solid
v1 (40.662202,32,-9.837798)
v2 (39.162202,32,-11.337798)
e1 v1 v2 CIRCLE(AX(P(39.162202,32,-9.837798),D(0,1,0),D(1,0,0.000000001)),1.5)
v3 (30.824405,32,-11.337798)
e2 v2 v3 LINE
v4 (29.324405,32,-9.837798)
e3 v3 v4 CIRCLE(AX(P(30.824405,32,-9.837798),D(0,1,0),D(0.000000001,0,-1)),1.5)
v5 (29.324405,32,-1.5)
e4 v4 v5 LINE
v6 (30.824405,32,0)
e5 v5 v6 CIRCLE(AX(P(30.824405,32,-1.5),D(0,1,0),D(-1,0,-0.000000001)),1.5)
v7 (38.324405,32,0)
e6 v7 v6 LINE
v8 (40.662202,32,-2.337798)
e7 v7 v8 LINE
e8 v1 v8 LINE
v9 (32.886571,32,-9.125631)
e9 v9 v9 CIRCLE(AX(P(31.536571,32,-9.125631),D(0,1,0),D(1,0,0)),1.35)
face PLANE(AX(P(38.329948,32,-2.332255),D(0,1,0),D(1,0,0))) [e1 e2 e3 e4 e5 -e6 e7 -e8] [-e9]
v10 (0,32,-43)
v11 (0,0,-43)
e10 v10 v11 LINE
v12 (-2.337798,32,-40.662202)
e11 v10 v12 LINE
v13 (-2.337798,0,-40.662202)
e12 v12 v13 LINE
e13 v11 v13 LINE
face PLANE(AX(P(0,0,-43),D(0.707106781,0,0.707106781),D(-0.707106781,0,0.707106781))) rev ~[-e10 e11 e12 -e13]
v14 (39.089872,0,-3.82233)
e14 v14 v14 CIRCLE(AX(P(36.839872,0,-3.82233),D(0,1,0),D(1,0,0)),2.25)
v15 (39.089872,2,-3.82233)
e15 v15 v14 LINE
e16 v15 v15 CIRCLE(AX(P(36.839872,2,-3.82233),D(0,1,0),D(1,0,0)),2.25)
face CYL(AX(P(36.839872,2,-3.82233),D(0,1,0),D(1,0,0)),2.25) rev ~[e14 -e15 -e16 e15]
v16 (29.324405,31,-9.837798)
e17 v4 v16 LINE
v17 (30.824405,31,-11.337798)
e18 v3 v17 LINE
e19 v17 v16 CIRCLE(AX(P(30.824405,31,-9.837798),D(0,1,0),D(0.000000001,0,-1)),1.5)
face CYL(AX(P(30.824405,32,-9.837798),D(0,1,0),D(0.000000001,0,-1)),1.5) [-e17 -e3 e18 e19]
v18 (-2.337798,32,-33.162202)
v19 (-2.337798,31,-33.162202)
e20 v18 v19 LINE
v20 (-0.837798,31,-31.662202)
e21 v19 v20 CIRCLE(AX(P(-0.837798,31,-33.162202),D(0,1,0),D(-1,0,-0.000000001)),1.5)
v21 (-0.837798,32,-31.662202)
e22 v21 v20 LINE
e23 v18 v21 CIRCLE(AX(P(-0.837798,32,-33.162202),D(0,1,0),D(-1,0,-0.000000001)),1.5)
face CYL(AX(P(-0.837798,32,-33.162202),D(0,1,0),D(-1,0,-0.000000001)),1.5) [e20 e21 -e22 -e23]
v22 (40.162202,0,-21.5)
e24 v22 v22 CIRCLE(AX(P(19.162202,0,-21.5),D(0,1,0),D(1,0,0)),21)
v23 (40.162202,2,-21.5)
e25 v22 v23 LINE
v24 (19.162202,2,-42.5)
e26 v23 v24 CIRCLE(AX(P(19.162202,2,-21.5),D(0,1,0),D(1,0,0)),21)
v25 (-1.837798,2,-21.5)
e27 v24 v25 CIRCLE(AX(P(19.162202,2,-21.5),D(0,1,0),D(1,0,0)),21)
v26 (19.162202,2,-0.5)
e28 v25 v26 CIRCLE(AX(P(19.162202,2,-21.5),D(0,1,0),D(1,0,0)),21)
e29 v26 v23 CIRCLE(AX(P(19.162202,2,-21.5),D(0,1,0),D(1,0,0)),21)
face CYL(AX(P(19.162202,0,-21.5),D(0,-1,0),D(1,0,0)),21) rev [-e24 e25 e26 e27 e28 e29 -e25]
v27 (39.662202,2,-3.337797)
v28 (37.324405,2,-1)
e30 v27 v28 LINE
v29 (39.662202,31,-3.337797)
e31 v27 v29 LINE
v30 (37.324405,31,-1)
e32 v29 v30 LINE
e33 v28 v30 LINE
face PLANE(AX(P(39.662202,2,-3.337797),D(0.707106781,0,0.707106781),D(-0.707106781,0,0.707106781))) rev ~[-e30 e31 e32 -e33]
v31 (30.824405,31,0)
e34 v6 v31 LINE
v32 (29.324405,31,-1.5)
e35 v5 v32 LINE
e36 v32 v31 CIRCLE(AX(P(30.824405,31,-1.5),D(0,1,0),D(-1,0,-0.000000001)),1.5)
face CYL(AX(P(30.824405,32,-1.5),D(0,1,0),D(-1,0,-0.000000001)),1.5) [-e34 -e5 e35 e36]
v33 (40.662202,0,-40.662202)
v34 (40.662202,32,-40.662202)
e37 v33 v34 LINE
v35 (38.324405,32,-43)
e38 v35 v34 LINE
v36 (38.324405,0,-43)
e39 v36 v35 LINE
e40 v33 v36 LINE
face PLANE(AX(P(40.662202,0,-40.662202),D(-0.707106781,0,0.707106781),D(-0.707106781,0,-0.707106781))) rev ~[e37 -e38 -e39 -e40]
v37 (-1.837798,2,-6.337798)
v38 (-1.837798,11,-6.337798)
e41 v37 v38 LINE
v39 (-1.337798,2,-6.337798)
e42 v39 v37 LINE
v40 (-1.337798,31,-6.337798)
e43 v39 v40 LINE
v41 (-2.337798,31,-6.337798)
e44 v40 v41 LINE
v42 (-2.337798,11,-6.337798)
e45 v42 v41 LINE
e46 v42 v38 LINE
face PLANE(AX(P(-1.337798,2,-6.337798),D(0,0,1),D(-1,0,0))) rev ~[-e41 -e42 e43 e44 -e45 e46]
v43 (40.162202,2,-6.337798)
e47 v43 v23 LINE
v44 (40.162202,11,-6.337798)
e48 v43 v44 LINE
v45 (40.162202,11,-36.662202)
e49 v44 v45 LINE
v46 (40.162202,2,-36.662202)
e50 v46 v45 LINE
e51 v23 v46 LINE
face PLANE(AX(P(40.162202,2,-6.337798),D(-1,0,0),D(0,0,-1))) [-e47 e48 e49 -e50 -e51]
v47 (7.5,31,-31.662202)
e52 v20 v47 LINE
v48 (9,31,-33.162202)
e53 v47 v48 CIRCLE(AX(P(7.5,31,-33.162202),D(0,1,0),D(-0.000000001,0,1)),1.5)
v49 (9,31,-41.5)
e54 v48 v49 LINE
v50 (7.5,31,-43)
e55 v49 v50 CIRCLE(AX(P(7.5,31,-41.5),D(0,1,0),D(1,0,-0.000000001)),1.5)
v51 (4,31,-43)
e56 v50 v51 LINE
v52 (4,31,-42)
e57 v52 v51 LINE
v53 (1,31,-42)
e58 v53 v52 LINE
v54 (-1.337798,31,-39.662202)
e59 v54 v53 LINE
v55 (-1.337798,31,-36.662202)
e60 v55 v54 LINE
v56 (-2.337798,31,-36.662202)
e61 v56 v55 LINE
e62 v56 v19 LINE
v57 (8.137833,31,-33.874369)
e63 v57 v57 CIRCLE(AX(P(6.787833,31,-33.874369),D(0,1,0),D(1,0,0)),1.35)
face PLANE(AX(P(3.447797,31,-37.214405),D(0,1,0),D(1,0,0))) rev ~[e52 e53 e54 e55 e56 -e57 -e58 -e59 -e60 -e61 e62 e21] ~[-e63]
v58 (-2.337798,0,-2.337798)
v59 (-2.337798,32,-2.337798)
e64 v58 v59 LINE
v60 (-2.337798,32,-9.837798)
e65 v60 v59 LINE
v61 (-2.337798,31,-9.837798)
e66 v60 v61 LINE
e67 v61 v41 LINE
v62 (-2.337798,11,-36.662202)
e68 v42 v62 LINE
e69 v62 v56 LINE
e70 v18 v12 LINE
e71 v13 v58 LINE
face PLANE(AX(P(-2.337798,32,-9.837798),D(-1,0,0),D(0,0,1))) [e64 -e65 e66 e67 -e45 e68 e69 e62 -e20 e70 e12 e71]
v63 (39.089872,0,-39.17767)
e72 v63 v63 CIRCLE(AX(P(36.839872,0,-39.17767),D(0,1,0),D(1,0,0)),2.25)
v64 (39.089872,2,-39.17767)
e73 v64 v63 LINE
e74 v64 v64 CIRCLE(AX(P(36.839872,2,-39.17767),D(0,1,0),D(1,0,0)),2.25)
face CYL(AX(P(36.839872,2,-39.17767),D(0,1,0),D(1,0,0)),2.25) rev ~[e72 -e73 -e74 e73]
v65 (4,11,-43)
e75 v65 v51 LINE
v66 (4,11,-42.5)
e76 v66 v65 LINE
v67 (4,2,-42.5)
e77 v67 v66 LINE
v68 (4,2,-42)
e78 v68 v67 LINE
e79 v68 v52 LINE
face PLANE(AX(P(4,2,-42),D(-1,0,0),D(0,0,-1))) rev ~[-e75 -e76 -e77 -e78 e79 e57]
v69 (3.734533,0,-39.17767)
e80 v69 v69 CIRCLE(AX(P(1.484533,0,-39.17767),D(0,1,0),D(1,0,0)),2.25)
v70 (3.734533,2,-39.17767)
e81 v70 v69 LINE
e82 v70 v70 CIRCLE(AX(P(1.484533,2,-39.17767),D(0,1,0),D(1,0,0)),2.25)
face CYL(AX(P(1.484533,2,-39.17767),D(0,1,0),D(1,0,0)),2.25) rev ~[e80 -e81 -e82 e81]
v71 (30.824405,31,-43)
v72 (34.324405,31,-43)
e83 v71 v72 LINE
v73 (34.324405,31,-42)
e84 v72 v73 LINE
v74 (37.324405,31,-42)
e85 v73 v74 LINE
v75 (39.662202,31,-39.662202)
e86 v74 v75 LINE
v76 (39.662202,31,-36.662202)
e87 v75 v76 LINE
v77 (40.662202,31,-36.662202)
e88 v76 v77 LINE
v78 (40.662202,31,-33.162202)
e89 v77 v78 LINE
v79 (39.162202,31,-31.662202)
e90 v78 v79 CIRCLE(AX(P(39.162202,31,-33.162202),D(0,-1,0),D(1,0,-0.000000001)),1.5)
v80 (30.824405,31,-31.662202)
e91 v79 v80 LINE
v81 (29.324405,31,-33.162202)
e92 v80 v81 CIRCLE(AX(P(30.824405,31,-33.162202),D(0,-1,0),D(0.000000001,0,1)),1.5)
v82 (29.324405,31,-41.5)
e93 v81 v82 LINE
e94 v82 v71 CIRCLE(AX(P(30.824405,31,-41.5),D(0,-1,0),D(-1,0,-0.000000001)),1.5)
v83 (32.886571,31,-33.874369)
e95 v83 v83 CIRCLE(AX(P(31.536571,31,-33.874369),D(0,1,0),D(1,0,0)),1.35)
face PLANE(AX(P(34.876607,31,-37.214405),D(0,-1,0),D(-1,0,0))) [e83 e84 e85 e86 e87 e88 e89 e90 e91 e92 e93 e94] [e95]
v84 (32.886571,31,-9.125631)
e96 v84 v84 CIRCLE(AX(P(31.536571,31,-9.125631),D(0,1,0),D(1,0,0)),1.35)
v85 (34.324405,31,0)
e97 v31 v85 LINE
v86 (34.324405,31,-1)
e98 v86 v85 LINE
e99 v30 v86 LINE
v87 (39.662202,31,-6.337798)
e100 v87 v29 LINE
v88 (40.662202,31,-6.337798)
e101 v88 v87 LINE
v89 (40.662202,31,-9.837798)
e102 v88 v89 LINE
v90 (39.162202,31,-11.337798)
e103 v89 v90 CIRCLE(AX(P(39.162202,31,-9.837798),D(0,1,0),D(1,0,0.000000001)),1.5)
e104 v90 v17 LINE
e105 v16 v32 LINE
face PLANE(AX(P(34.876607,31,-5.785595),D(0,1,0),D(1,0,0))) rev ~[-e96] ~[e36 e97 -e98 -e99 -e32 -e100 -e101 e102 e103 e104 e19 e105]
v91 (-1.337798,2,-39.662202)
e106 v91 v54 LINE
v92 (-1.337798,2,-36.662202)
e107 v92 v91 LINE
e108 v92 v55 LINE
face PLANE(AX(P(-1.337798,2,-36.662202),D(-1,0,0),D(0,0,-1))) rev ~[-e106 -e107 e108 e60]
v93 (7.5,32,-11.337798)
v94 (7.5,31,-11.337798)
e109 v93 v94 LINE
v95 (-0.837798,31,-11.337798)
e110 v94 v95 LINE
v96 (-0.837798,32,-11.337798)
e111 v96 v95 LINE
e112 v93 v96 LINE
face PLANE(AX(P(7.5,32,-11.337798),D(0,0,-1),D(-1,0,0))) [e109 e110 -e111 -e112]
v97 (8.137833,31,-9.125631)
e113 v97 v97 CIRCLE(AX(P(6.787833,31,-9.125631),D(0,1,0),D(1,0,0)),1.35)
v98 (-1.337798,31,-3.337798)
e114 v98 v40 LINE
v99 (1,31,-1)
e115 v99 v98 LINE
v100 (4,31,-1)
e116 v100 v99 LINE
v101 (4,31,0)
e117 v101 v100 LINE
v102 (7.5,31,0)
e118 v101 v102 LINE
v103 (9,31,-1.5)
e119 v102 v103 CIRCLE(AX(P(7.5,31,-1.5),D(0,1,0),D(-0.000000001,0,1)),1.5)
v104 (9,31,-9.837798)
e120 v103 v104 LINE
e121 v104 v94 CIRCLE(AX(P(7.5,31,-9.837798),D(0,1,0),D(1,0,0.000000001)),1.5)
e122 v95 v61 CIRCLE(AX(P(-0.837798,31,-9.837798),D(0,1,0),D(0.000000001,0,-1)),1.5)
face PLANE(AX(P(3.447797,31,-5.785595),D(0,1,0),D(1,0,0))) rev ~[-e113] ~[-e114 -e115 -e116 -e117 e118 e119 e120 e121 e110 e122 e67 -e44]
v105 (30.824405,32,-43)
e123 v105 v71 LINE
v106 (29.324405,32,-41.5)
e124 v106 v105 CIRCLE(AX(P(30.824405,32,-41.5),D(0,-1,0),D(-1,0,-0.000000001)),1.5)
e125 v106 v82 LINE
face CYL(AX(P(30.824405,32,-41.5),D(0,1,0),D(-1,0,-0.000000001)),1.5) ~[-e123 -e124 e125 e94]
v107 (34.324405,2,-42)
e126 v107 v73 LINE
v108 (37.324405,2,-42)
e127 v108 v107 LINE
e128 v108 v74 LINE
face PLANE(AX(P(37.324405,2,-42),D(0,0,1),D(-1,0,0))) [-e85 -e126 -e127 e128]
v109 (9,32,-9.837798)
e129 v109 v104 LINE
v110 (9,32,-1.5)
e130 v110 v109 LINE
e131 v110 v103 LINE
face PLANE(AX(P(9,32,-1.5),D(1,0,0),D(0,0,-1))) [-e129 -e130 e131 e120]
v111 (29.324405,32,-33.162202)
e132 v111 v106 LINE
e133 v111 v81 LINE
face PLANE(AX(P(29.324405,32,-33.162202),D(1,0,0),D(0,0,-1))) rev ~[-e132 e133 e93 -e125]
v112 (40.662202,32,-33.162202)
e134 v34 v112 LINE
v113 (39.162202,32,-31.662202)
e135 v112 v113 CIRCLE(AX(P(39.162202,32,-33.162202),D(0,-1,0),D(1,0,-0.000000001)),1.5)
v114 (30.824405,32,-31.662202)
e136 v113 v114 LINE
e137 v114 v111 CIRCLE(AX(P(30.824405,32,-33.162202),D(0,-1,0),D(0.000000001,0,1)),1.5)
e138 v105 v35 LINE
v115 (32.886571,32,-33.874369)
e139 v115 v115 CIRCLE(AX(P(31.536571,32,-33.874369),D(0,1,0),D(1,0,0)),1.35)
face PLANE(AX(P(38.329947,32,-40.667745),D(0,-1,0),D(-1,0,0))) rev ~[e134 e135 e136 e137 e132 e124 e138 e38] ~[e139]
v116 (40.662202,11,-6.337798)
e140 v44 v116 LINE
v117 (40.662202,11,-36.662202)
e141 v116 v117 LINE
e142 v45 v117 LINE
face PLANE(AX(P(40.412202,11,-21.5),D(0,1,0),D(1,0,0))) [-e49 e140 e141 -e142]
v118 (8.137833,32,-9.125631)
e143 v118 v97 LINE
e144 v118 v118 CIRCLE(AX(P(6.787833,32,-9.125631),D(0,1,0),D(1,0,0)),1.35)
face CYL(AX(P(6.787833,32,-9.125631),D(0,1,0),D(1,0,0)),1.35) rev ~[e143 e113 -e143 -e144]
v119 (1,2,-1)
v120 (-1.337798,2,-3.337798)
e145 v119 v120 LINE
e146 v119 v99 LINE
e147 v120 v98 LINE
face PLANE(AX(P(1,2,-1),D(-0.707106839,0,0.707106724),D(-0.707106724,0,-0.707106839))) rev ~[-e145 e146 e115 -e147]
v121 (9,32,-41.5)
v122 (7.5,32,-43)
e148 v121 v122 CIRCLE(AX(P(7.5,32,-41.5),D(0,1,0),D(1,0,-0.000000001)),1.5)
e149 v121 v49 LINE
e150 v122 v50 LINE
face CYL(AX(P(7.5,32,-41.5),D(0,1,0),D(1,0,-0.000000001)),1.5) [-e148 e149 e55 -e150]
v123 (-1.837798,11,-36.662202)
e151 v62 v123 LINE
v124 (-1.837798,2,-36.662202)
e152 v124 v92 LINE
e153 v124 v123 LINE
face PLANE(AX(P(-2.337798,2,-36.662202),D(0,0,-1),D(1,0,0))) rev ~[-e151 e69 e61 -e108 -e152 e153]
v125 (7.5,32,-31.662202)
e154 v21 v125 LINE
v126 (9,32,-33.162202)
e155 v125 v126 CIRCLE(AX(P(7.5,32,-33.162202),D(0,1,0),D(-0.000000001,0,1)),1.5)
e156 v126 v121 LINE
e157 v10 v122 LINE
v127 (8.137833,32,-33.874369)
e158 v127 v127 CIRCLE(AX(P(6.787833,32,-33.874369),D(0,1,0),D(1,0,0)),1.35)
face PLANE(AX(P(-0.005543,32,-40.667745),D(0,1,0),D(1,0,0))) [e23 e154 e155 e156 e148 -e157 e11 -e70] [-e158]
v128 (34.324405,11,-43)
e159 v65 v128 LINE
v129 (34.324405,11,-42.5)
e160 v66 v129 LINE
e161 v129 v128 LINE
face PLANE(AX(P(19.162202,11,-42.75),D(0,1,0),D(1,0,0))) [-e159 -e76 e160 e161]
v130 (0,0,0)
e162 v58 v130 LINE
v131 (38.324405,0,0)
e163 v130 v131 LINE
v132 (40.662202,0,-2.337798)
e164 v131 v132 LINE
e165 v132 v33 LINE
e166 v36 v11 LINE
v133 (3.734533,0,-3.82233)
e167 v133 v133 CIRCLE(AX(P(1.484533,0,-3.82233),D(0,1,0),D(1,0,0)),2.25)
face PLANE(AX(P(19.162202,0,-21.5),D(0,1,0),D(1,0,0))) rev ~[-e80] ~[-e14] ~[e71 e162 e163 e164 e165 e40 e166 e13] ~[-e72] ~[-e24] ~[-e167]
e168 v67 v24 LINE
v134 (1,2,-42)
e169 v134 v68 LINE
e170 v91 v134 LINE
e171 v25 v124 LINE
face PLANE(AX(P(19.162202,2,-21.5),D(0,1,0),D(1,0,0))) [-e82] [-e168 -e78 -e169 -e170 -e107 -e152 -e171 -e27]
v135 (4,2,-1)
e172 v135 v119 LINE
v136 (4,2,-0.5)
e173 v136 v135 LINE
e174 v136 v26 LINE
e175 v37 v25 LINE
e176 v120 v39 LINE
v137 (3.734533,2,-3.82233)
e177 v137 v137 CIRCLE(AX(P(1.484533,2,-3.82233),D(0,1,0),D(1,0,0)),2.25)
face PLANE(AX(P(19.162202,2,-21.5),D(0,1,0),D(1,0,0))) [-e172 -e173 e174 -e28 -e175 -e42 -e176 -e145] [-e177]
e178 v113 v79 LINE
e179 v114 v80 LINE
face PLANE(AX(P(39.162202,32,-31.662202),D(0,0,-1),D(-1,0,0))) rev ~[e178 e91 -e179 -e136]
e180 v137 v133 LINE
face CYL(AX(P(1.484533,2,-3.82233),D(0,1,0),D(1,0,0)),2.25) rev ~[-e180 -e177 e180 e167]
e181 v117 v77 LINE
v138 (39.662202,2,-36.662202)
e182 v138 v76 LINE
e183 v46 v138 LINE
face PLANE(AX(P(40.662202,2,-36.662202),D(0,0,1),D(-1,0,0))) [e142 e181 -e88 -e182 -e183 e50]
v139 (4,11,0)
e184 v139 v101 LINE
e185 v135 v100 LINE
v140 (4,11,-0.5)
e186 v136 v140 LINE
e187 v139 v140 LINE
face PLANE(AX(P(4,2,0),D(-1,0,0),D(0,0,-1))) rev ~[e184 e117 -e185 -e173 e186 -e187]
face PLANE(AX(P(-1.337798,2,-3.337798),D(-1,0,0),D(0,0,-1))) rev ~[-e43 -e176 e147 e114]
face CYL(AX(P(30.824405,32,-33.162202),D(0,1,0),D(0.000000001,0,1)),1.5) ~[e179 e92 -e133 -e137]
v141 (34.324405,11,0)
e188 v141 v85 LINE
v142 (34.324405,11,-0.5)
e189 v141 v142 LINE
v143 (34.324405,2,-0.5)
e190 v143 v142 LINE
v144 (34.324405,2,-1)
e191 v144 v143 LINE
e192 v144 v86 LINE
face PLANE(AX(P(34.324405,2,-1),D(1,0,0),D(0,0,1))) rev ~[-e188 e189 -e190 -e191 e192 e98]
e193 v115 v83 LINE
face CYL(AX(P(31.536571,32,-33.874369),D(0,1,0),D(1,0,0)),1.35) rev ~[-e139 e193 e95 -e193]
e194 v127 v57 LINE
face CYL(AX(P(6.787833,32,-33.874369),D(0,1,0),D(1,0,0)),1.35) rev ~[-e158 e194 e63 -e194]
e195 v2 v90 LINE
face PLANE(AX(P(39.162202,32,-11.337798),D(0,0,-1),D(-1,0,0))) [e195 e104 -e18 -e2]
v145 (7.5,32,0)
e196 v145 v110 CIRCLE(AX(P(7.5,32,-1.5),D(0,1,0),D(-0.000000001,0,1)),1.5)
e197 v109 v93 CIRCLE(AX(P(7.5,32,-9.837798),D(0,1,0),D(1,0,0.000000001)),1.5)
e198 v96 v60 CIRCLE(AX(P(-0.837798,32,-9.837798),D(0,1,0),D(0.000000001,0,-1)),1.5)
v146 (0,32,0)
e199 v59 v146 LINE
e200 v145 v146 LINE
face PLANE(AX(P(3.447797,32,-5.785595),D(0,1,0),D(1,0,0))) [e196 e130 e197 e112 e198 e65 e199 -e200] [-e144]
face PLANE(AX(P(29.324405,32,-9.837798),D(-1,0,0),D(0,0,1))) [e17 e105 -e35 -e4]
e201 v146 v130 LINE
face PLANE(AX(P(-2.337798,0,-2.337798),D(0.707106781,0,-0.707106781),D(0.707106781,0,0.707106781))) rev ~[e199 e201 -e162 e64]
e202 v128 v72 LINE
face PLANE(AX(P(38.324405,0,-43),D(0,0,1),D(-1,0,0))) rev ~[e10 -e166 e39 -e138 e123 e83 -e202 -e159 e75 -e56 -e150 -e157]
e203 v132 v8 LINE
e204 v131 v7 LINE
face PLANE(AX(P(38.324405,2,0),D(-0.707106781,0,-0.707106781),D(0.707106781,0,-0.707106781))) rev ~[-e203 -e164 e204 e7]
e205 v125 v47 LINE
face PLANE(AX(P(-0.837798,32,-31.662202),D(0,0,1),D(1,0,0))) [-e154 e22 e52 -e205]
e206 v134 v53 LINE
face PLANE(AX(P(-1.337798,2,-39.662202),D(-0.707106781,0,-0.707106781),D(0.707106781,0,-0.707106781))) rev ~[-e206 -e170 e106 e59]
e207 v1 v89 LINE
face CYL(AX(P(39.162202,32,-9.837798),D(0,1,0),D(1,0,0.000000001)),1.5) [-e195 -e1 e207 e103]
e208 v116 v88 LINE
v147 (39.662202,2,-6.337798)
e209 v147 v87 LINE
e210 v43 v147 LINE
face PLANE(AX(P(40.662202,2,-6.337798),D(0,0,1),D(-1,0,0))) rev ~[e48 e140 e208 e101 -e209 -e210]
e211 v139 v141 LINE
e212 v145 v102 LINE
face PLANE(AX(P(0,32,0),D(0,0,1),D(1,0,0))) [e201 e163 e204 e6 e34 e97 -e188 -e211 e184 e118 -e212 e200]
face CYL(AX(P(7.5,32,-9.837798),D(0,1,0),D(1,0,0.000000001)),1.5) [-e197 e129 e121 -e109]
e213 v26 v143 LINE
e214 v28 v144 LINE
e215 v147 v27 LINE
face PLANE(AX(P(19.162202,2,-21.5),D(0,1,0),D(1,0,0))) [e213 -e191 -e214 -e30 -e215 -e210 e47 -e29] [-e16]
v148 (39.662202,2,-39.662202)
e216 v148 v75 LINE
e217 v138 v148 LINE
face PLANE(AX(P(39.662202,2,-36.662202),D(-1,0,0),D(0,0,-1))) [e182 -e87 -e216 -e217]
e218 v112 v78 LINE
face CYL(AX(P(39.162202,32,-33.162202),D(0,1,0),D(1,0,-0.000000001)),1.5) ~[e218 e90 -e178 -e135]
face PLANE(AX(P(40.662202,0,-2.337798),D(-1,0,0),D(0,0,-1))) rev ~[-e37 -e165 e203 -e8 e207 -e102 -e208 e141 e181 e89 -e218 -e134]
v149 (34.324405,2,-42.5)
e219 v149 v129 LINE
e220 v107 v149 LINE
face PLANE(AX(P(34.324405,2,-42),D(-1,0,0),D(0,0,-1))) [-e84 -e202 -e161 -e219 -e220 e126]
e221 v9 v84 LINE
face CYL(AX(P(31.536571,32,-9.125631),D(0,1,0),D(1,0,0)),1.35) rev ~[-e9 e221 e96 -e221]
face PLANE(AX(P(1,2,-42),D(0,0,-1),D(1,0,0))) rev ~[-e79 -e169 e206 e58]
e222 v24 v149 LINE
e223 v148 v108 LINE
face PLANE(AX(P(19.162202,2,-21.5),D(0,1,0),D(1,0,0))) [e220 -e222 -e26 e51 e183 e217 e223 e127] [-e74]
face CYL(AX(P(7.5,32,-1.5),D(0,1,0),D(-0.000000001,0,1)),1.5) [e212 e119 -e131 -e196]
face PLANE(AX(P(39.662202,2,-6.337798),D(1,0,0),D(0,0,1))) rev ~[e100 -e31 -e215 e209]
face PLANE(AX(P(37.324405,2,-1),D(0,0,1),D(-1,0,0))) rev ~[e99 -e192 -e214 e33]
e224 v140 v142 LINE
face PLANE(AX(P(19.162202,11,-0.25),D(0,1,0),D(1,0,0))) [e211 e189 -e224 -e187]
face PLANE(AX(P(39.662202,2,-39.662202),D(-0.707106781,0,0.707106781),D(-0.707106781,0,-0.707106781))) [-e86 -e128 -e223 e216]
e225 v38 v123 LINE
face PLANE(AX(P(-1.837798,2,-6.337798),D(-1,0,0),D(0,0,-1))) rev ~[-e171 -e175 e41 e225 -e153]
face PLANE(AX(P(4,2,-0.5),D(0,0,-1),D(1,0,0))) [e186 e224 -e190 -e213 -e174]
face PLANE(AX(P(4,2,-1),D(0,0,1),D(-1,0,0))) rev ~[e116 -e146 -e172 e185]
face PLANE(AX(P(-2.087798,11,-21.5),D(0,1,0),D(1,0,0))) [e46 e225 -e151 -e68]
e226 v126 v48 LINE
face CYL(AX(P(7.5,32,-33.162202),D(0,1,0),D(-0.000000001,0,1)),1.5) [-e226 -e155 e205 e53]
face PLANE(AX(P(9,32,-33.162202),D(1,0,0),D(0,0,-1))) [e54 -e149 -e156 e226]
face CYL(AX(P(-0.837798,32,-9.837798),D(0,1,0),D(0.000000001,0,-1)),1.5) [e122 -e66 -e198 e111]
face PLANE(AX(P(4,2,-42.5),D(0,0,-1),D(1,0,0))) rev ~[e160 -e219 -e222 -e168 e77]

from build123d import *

# Parameters (mm, degrees)
SKETCH1_R           = 21
BOSS_EXTRUDE1_DEPTH = 2
BOSS_EXTRUDE6_DEPTH = 30
SKETCH13_W          = 30.324405
SKETCH13_H          = 0.5
SKETCH13_W_2        = 0.5
SKETCH13_H_2        = 30.324404
SKETCH13_W_3        = 30.32440476
SKETCH13_H_3        = 0.50000019
BOSS_EXTRUDE7_DEPTH = 9
SKETCH15_R          = 1.35
BOSS_EXTRUDE9_DEPTH = 1
SKETCH16_R          = 2.25
CUT_EXTRUDE1_DEPTH  = 3


with BuildPart() as part:
    # Sketch1 → Boss-Extrude1 (new body)
    with BuildSketch(Plane(origin=(0, 0, 0), x_dir=(1, 0, 0), z_dir=(0, 1, 0))):
        Polygon((0, 0), (38.32440476, 0), (40.66220238, 2.33779762), (40.66220238, 40.66220238), (38.32440476, 43), (0, 43), (-2.33779762, 40.66220238), (-2.33779762, 2.33779762), align=None)
        with Locations((19.16220238, 21.5)):
            Circle(SKETCH1_R, mode=Mode.SUBTRACT)
    extrude(amount=BOSS_EXTRUDE1_DEPTH)

    # Sketch3 → Boss-Extrude6 (add)
    with BuildSketch(Plane(origin=(0, 2, 0), x_dir=(1, 0, 0), z_dir=(0, 1, 0))):
        Polygon((34.324405, 1), (34.324405, 0), (38.32440476, 0), (40.66220238, 2.33779762), (40.66220238, 6.337798), (39.66220238, 6.337798), (39.66220238, 3.33779738), (37.324405, 1), align=None)
        Polygon((-2.33779762, 2.33779762), (0, 0), (4, 0), (4, 1), (1, 1), (-1.33779762, 3.337798), (-1.33779762, 6.337798), (-2.33779762, 6.337798), align=None)
        Polygon((-2.33779762, 40.66220238), (-2.33779762, 36.662202), (-1.33779762, 36.662202), (-1.33779762, 39.662202), (1, 41.99999962), (4, 41.99999962), (4, 43), (0, 43), align=None)
        Polygon((39.66220238, 39.662202), (37.32440476, 41.99999962), (34.32440476, 41.99999962), (34.32440476, 43), (38.32440476, 43), (40.66220238, 40.66220238), (40.66220238, 36.662202), (39.66220238, 36.662202), align=None)
    extrude(amount=BOSS_EXTRUDE6_DEPTH)

    # Sketch13 → Boss-Extrude7 (add)
    with BuildSketch(Plane(origin=(0, 2, 0), x_dir=(1, 0, 0), z_dir=(0, 1, 0))):
        with Locations((19.1622025, 0.25)):
            Rectangle(SKETCH13_W, SKETCH13_H)
        with Locations((-2.08779762, 21.5)):
            Rectangle(SKETCH13_W_2, SKETCH13_H_2)
        with Locations((40.41220238, 21.5)):
            Rectangle(SKETCH13_W_2, SKETCH13_H_2)
        with Locations((19.16220238, 42.749999905)):
            Rectangle(SKETCH13_W_3, SKETCH13_H_3)
    extrude(amount=BOSS_EXTRUDE7_DEPTH)

    # Sketch15 → Boss-Extrude9 (add)
    with BuildSketch(Plane(origin=(0, 32, 0), x_dir=(1, 0, 0), z_dir=(0, 1, 0))):
        with BuildLine():
            Line((4, 0), (7.5, 0))
            ThreePointArc((7.5, 0), (8.560660172, 0.439339828), (9, 1.5))
            Line((9, 1.5), (9, 9.837798))
            ThreePointArc((9, 9.837798), (8.560660172, 10.898458172), (7.5, 11.337798))
            Line((7.5, 11.337798), (-0.83779762, 11.337798))
            ThreePointArc((-0.83779762, 11.337798), (-1.898457792, 10.898458172), (-2.33779762, 9.837798))
            Line((-2.33779762, 9.837798), (-2.33779762, 6.337798))
            Line((-2.33779762, 6.337798), (-2.33779762, 2.33779762))
            Line((-2.33779762, 2.33779762), (0, 0))
            Line((0, 0), (4, 0))
        make_face()
        with Locations((6.78783338, 9.125631)):
            Circle(SKETCH15_R, mode=Mode.SUBTRACT)
        with BuildLine():
            Line((39.16220238, 11.337798), (30.82440476, 11.337798))
            ThreePointArc((30.82440476, 11.337798), (29.763744588, 10.898458172), (29.32440476, 9.837798))
            Line((29.32440476, 9.837798), (29.32440476, 1.5))
            ThreePointArc((29.32440476, 1.5), (29.763744588, 0.439339828), (30.82440476, 0))
            Line((30.82440476, 0), (34.32440476, 0))
            Line((34.32440476, 0), (38.32440476, 0))
            Line((38.32440476, 0), (40.66220238, 2.33779762))
            Line((40.66220238, 2.33779762), (40.66220238, 6.337798))
            Line((40.66220238, 6.337798), (40.66220238, 9.837798))
            ThreePointArc((40.66220238, 9.837798), (40.222862552, 10.898458172), (39.16220238, 11.337798))
        make_face()
        with Locations((31.53657138, 9.125631)):
            Circle(SKETCH15_R, mode=Mode.SUBTRACT)
        with BuildLine():
            Line((-0.83779762, 31.662202), (7.5, 31.662202))
            ThreePointArc((7.5, 31.662202), (8.560660172, 32.101541828), (9, 33.162202))
            Line((9, 33.162202), (9, 41.5))
            ThreePointArc((9, 41.5), (8.560660172, 42.560660171), (7.5, 43))
            Line((7.5, 43), (4, 43))
            Line((4, 43), (0, 43))
            Line((0, 43), (-2.33779762, 40.66220238))
            Line((-2.33779762, 40.66220238), (-2.33779762, 36.662202))
            Line((-2.33779762, 36.662202), (-2.33779762, 33.162202))
            ThreePointArc((-2.33779762, 33.162202), (-1.898457792, 32.101541828), (-0.83779762, 31.662202))
        make_face()
        with Locations((6.78783338, 33.874369)):
            Circle(SKETCH15_R, mode=Mode.SUBTRACT)
        with BuildLine():
            Line((40.66220238, 36.662202), (40.66220238, 33.162202))
            ThreePointArc((40.66220238, 33.162202), (40.222862552, 32.101541828), (39.16220238, 31.662202))
            Line((39.16220238, 31.662202), (30.82440476, 31.662202))
            ThreePointArc((30.82440476, 31.662202), (29.763744588, 32.101541828), (29.32440476, 33.162202))
            Line((29.32440476, 33.162202), (29.32440476, 41.5))
            ThreePointArc((29.32440476, 41.5), (29.763744588, 42.560660171), (30.82440476, 43))
            Line((30.82440476, 43), (34.32440476, 43))
            Line((34.32440476, 43), (38.32440476, 43))
            Line((38.32440476, 43), (40.66220238, 40.66220238))
            Line((40.66220238, 40.66220238), (40.66220238, 36.662202))
        make_face()
        with Locations((31.53657138, 33.874369)):
            Circle(SKETCH15_R, mode=Mode.SUBTRACT)
    extrude(amount=-BOSS_EXTRUDE9_DEPTH)

    # Sketch16 → Cut-Extrude1 (cut, through all)
    with BuildSketch(Plane(origin=(0, 2, 0), x_dir=(1, 0, 0), z_dir=(0, 1, 0))):
        with Locations((36.83987191, 39.177669529)):
            Circle(SKETCH16_R)
        with Locations((36.83987191, 3.82233047)):
            Circle(SKETCH16_R)
        with Locations((1.48453285, 3.82233047)):
            Circle(SKETCH16_R)
        with Locations((1.48453285, 39.177669529)):
            Circle(SKETCH16_R)
    extrude(amount=-CUT_EXTRUDE1_DEPTH, mode=Mode.SUBTRACT)


solid = part.part
